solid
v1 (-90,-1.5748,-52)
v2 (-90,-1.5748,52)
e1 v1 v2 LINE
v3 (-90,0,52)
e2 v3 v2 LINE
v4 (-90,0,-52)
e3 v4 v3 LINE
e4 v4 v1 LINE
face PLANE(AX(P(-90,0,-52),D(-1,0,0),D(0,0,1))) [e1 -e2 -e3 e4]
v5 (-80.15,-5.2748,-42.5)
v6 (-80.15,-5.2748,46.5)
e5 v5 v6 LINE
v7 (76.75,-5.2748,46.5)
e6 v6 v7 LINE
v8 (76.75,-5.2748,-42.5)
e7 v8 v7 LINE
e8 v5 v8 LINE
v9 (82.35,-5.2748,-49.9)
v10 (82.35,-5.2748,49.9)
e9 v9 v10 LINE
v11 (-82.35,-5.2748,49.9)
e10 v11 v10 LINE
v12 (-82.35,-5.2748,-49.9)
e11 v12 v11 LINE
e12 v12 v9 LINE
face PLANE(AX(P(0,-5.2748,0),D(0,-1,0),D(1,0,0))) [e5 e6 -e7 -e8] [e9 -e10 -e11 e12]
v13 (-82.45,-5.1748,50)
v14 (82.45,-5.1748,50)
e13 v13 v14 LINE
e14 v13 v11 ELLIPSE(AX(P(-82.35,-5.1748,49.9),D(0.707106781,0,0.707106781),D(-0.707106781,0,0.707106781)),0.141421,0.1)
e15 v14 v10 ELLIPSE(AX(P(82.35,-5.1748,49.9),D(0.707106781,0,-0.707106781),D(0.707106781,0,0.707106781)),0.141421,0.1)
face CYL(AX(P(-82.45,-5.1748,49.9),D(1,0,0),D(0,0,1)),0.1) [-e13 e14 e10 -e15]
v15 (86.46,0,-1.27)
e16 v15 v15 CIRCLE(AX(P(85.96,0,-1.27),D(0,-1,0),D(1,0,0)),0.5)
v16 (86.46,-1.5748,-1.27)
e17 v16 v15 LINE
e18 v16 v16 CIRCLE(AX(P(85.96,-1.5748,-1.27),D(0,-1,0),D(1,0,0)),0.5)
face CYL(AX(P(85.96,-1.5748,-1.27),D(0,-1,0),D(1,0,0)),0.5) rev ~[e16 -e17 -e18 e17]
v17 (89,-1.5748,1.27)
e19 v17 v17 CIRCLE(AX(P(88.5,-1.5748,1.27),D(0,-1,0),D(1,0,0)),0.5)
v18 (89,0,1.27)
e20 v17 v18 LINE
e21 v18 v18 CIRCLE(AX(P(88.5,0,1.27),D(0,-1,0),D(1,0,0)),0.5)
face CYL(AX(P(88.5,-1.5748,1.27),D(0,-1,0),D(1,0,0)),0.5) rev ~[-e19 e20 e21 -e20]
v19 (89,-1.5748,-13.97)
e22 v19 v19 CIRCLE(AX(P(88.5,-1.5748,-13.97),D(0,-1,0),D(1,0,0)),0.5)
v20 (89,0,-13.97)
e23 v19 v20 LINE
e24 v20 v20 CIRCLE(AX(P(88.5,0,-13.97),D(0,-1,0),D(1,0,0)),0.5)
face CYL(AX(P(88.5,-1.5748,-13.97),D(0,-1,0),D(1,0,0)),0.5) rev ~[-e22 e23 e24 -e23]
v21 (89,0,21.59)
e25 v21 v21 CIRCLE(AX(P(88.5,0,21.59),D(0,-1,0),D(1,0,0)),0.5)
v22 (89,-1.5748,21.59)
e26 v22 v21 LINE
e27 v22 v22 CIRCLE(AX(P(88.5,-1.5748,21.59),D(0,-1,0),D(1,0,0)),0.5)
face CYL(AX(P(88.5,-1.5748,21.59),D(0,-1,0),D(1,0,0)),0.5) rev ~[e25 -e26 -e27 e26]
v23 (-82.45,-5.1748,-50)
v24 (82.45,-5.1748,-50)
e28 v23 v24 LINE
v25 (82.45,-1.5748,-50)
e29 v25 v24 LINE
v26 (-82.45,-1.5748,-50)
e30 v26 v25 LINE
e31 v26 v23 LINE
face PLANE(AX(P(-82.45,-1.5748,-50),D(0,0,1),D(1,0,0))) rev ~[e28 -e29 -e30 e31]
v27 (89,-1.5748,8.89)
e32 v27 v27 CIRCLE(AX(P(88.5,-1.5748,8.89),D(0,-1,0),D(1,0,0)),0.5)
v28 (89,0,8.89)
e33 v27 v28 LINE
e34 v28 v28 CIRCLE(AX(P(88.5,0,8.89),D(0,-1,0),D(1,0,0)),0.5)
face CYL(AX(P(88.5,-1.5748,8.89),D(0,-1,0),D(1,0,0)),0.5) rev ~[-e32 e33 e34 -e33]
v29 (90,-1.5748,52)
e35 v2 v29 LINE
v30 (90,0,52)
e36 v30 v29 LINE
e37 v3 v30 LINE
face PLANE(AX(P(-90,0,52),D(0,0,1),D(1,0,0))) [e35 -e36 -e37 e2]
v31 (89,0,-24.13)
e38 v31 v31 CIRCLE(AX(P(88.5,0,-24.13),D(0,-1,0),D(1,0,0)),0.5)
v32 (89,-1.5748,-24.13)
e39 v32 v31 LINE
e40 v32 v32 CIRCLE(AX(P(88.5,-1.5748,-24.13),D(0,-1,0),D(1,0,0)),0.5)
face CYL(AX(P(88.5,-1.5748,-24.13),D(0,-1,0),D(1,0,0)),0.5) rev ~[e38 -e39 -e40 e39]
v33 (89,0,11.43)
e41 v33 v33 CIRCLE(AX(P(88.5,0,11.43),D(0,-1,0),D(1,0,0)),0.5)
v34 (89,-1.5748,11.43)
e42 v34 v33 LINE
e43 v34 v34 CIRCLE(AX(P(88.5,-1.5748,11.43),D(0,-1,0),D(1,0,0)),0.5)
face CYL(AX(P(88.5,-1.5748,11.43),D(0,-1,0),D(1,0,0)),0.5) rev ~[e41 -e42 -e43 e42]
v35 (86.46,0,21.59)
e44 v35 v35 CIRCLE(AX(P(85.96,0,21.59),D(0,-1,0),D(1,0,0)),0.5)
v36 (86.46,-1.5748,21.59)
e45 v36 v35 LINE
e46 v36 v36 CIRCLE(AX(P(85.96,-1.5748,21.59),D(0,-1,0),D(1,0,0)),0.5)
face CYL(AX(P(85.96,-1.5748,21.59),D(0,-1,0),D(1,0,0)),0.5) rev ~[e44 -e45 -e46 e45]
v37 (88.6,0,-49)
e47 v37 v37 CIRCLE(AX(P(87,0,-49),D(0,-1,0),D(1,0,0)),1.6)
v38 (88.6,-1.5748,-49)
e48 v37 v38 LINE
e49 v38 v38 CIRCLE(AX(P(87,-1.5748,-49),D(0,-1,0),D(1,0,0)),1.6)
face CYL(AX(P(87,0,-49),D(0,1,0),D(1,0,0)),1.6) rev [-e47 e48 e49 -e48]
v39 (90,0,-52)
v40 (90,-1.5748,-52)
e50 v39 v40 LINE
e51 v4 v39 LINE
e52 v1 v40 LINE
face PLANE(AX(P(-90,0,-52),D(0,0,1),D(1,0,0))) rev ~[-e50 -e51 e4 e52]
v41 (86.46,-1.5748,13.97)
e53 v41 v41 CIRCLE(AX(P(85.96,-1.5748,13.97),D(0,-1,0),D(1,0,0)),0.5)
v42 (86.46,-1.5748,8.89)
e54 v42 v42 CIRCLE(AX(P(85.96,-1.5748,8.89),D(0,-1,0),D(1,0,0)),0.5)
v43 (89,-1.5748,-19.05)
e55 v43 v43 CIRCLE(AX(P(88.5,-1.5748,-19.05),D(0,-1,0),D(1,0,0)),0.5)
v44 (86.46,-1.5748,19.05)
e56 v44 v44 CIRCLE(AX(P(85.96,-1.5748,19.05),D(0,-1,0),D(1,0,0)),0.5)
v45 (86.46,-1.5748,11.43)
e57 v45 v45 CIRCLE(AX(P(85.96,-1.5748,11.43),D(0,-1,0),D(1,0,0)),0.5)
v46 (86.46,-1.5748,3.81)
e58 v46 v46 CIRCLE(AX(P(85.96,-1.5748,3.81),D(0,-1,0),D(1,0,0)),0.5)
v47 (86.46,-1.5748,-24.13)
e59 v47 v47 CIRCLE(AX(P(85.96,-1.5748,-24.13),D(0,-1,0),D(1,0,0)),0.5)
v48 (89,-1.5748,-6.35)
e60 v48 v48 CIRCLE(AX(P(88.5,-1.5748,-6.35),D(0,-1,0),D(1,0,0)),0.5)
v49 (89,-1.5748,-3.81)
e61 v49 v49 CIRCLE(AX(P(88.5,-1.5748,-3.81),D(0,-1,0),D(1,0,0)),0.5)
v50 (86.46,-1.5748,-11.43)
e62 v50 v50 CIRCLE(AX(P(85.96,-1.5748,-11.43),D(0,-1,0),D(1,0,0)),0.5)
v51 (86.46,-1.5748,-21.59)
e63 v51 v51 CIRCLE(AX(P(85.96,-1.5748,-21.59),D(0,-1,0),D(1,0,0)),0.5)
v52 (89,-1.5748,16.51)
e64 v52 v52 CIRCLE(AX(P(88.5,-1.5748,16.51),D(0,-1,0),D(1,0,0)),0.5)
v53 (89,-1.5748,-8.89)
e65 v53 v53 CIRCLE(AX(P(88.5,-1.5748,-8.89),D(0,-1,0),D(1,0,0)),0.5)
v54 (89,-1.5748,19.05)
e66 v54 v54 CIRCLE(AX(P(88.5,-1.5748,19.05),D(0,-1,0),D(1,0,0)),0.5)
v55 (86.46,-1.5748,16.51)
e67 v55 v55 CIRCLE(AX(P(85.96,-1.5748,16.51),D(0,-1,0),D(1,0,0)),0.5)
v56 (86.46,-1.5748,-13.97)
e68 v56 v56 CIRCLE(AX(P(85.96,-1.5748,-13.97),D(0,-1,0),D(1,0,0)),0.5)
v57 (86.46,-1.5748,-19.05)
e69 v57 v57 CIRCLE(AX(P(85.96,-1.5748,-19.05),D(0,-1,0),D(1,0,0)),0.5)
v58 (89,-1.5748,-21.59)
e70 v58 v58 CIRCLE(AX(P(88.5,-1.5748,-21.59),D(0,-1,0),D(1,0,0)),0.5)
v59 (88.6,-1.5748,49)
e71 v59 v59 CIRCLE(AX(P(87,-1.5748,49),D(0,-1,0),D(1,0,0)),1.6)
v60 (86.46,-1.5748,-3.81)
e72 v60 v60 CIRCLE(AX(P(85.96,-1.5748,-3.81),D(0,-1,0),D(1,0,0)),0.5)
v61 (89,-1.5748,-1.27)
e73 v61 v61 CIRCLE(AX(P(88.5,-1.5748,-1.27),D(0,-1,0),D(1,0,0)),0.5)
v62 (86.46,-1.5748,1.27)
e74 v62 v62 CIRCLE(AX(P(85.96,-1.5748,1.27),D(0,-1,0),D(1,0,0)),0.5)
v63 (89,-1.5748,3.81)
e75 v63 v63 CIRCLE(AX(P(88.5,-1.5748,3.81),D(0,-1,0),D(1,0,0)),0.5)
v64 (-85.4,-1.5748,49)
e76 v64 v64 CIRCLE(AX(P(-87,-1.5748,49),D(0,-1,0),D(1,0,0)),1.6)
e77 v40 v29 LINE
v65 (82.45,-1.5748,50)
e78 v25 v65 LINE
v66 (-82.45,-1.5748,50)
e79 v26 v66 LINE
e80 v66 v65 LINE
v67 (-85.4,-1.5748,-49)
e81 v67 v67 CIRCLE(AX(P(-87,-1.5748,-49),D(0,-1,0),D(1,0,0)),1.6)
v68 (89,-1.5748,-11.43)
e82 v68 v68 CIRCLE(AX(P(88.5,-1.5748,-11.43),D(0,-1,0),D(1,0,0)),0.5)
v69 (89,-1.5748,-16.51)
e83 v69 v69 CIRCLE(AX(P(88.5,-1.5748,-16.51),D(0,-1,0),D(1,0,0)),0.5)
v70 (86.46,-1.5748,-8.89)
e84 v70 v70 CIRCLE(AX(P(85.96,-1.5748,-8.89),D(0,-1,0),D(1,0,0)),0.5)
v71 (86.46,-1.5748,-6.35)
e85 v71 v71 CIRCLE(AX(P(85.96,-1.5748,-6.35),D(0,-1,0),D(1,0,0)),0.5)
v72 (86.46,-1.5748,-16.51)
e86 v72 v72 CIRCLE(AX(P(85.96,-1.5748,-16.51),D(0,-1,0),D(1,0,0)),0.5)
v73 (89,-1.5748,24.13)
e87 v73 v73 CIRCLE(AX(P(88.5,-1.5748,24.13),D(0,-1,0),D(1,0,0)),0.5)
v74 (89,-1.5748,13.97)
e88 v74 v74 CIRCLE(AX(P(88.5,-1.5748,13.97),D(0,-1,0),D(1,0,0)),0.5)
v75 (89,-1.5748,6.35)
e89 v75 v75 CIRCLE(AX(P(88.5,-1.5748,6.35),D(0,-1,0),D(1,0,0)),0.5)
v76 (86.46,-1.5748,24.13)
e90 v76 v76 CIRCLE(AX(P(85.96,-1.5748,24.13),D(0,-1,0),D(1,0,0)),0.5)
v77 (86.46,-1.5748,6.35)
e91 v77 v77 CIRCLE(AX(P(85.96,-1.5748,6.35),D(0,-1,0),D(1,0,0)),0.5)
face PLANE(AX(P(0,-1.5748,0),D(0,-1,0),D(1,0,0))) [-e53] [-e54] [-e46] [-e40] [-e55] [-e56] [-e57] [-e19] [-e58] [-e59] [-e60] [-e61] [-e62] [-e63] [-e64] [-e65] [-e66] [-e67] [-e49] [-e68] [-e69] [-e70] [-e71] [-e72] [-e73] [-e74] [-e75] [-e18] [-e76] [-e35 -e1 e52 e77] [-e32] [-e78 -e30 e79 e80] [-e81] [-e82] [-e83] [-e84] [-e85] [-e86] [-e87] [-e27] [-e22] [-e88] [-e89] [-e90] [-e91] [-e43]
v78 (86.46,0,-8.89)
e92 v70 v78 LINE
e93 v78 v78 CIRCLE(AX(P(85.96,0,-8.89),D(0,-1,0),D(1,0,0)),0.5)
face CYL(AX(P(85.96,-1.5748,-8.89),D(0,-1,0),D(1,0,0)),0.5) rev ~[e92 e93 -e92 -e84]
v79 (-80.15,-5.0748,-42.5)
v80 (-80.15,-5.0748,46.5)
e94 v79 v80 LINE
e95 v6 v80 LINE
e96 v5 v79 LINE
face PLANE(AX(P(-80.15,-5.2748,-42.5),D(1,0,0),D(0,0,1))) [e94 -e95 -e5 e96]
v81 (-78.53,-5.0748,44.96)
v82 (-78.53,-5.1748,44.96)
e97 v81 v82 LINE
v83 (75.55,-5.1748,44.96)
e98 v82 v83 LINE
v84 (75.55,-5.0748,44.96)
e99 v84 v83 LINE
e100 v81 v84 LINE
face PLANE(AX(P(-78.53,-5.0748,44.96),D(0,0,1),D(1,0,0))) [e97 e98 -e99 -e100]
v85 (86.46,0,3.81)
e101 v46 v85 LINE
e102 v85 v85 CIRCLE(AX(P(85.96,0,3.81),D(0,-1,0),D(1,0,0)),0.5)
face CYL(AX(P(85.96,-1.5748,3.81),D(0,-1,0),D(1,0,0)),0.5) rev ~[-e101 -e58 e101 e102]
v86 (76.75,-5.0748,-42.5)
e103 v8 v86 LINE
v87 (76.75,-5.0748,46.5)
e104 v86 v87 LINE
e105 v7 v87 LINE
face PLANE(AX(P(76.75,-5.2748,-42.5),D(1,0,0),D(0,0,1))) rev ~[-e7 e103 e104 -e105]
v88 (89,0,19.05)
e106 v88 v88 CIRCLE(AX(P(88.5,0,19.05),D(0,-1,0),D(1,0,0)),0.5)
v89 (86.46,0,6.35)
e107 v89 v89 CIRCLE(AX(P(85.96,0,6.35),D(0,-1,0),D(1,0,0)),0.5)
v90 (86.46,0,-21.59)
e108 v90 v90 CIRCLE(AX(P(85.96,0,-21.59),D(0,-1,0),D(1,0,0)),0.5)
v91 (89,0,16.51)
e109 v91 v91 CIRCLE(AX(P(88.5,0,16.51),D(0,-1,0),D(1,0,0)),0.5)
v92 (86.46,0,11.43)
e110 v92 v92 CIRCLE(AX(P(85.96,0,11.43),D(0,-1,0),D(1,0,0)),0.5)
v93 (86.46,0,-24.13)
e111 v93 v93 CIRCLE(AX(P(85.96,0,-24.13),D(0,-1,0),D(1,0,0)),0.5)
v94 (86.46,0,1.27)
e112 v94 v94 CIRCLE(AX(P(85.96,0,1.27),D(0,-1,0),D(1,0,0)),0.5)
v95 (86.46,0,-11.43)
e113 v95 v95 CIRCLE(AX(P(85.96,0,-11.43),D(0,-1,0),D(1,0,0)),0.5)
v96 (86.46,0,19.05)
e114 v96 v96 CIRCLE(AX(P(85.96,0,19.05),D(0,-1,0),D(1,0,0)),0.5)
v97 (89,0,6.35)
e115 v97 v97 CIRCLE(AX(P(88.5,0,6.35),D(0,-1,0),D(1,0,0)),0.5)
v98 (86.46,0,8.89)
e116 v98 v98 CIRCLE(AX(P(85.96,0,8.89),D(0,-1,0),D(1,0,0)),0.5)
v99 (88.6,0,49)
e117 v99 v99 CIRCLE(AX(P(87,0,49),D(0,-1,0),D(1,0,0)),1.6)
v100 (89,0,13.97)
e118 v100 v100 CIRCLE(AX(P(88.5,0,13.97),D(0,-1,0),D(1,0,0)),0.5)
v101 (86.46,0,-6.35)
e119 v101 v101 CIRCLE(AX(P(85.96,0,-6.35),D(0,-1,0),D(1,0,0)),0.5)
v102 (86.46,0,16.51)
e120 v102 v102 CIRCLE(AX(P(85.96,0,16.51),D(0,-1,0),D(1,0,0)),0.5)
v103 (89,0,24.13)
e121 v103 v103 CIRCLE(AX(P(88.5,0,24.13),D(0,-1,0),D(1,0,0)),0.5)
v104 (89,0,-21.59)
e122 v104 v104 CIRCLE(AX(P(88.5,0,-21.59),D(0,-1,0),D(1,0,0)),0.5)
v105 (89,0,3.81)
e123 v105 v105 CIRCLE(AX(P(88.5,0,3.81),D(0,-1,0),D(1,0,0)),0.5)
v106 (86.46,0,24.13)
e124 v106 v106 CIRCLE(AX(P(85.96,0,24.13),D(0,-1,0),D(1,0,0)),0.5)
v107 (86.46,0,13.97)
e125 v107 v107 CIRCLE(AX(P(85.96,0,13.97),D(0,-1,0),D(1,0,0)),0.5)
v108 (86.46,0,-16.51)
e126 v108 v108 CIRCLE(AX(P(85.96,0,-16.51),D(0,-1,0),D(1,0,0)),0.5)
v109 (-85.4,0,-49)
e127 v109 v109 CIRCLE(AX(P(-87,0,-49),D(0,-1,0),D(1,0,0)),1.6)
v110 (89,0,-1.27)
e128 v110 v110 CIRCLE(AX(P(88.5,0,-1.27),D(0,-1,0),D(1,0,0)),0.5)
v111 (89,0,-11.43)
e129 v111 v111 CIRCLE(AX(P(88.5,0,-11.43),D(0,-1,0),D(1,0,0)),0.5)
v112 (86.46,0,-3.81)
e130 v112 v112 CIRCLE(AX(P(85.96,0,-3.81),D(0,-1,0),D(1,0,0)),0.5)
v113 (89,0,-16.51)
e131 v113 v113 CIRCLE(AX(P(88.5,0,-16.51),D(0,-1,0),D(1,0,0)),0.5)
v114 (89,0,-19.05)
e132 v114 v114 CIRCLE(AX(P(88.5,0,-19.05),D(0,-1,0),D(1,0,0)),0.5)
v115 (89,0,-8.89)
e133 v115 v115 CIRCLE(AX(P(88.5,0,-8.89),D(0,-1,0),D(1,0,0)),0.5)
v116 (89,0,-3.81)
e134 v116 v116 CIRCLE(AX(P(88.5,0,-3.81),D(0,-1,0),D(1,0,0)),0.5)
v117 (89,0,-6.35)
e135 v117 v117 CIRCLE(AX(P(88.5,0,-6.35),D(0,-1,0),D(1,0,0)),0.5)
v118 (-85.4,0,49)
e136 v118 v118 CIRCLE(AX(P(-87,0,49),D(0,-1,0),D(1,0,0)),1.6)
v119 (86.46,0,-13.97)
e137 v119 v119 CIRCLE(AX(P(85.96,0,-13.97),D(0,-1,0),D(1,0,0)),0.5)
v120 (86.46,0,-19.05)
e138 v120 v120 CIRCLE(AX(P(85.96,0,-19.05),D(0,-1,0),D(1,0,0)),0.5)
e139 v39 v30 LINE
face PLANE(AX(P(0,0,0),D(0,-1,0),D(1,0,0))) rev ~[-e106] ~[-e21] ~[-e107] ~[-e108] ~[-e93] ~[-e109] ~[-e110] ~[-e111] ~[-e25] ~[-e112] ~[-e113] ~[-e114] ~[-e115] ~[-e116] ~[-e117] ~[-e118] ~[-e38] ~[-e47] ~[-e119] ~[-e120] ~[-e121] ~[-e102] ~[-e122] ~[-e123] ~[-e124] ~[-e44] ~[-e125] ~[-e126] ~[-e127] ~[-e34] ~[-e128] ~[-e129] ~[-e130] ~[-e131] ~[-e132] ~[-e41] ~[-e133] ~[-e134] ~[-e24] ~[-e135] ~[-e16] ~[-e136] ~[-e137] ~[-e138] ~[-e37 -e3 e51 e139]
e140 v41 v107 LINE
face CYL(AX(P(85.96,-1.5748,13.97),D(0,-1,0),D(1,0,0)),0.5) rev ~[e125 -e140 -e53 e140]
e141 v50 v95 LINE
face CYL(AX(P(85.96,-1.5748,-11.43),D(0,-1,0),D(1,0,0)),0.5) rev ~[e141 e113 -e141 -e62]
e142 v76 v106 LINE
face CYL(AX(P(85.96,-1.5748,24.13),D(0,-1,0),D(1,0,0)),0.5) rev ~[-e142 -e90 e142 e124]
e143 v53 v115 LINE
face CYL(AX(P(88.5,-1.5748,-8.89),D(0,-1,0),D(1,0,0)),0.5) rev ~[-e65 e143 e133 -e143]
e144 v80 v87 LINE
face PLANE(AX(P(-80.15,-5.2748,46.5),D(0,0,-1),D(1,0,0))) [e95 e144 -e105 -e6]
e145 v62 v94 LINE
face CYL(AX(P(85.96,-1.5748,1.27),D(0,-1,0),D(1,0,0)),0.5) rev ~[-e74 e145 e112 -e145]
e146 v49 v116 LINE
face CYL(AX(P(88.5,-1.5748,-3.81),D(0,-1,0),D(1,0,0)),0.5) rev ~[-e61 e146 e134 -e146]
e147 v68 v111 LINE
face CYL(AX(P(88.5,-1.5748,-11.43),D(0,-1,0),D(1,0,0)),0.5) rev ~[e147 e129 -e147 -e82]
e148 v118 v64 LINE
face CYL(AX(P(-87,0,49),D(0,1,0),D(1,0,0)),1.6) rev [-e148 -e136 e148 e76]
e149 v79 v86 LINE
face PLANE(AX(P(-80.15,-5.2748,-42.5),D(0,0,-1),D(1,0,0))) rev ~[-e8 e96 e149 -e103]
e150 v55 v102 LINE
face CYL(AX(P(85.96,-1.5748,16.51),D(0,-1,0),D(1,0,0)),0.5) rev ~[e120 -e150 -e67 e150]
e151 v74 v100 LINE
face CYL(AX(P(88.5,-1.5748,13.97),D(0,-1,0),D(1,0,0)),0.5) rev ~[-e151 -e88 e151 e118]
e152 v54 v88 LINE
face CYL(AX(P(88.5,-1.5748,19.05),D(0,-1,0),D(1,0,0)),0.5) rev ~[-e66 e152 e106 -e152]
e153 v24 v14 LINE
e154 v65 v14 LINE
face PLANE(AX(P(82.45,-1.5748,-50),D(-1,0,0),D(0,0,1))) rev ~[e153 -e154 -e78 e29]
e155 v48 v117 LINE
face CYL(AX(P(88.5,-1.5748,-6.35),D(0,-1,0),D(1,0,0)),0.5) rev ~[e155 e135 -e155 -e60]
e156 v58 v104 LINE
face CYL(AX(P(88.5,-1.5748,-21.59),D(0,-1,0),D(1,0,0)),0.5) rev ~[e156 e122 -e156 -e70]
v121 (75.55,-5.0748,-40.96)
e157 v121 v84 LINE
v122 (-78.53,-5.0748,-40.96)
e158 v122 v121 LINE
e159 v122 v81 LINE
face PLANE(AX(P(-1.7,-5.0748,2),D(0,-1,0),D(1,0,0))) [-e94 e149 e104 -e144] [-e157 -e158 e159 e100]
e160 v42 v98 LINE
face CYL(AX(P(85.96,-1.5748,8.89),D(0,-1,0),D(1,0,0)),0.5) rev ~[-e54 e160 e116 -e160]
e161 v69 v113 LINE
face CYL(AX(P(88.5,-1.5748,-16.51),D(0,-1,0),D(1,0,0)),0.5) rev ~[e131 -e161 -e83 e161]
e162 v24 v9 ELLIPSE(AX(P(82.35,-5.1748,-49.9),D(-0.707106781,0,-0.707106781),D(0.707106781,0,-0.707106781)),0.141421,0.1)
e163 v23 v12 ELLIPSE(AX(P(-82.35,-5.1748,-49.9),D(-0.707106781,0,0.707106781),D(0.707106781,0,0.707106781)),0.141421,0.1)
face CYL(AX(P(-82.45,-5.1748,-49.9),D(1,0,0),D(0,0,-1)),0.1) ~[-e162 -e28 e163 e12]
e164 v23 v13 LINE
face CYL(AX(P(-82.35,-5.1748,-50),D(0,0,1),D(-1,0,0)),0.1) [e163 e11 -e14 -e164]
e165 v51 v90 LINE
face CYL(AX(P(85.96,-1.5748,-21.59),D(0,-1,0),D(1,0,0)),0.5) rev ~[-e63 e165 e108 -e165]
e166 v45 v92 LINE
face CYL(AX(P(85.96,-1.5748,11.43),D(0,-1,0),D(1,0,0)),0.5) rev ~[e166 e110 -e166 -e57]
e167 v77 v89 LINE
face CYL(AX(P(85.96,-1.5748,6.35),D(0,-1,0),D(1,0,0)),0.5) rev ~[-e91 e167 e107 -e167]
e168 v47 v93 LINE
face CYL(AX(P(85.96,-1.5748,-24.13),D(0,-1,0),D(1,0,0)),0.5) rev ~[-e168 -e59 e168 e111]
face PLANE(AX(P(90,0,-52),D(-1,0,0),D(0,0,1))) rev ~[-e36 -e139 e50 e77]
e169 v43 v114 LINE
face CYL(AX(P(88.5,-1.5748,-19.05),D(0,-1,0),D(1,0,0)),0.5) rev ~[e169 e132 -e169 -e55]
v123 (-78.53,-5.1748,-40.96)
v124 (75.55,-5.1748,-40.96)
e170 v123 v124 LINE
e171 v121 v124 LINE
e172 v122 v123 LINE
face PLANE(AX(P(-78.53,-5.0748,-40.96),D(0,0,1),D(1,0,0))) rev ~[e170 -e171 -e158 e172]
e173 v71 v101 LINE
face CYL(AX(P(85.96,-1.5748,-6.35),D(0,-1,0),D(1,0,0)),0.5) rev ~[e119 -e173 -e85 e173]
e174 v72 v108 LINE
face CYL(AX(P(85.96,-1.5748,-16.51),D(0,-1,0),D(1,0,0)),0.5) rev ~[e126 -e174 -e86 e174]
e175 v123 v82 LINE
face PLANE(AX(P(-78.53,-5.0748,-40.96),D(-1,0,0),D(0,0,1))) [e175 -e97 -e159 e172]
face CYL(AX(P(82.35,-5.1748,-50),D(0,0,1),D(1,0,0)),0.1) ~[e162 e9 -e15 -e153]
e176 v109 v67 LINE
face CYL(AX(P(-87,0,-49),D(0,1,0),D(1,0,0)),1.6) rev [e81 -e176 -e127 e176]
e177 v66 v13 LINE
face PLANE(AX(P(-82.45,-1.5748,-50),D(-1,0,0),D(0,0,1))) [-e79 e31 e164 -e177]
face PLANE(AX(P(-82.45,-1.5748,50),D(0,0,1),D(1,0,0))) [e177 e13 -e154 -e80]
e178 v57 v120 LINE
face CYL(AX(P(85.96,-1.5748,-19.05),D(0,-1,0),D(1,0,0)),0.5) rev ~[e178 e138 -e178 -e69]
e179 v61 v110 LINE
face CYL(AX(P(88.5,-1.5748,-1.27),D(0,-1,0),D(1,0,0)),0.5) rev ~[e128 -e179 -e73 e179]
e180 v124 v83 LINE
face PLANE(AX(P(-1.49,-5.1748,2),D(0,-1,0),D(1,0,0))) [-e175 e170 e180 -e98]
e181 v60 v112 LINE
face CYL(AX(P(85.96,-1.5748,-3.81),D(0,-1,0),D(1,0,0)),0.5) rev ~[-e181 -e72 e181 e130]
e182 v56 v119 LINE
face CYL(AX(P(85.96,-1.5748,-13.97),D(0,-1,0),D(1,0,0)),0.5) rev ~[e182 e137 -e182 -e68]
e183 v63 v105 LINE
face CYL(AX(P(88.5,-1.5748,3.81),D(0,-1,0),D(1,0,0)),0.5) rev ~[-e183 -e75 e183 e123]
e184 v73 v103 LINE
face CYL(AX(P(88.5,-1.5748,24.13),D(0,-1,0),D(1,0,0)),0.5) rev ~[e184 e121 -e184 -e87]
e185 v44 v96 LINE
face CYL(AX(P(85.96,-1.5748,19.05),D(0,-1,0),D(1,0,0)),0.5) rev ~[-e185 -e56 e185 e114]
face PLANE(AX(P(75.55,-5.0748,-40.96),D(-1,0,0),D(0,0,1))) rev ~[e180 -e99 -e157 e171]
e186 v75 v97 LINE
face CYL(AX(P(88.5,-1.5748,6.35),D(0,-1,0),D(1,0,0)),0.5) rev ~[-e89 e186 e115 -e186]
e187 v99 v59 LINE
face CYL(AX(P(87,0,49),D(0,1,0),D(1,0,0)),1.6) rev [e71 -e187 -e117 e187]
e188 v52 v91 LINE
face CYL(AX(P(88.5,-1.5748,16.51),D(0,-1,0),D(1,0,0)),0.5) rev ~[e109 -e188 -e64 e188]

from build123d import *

# Parameters (mm, degrees)
F0_W      = 180
F0_H      = 104
F0_R      = 1.6
F1_DEPTH  = 1.5748
F2_W      = 164.9
F2_H      = 100
F3_DEPTH  = 3.7
F4_W      = 156.9
F4_H      = 89
F5_DEPTH  = 0.2
F6_W      = 154.08
F6_H      = 85.92
F7_DEPTH  = 0.1
F8_R      = 0.1
F9_R      = 0.5
F10_DEPTH = 1.5758


with BuildPart() as f1:
    # F0 (on Front) → F1 (new body)
    with BuildSketch(Plane.XZ):
        Rectangle(F0_W, F0_H)
        with Locations((-87, -49)):
            Circle(F0_R, mode=Mode.SUBTRACT)
        with Locations((87, -49)):
            Circle(F0_R, mode=Mode.SUBTRACT)
        with Locations((-87, 49)):
            Circle(F0_R, mode=Mode.SUBTRACT)
        with Locations((87, 49)):
            Circle(F0_R, mode=Mode.SUBTRACT)
    extrude(amount=F1_DEPTH)

    # F2 (on face) → F3 (join)
    with BuildSketch(Plane.XZ.offset(1.5748)):
        Rectangle(F2_W, F2_H)
    extrude(amount=F3_DEPTH)

    # F4 (on face) → F5 (cut)
    with BuildSketch(Plane.XZ.offset(5.2748)):
        with Locations((-1.7, 2)):
            Rectangle(F4_W, F4_H)
    extrude(amount=-F5_DEPTH, mode=Mode.SUBTRACT)

    # F6 (on face) → F7 (join)
    with BuildSketch(Plane.XZ.offset(5.0748)):
        with Locations((-1.49, 2)):
            Rectangle(F6_W, F6_H)
    extrude(amount=F7_DEPTH)

    # F8
    f8_edges = [f1.edges().sort_by_distance(p)[0] for p in [
        (-82.45, -5.2748, 0),
        (0, -5.2748, 50),
        (0, -5.2748, -50),
        (82.45, -5.2748, 0),
    ]]
    fillet(f8_edges, radius=F8_R)

    # F9 (on face) → F10 (cut, through all)
    with BuildSketch(Plane.XZ.offset(1.5748)):
        with Locations((85.96, 13.97)):
            Circle(F9_R)
        with Locations((85.96, 8.89)):
            Circle(F9_R)
        with Locations((85.96, 11.43)):
            Circle(F9_R)
        with Locations((85.96, -19.05)):
            Circle(F9_R)
        with Locations((85.96, -16.51)):
            Circle(F9_R)
        with Locations((85.96, -13.97)):
            Circle(F9_R)
        with Locations((85.96, -11.43)):
            Circle(F9_R)
        with Locations((85.96, -8.89)):
            Circle(F9_R)
        with Locations((85.96, -6.35)):
            Circle(F9_R)
        with Locations((85.96, -3.81)):
            Circle(F9_R)
        with Locations((85.96, -1.27)):
            Circle(F9_R)
        with Locations((85.96, 3.81)):
            Circle(F9_R)
        with Locations((88.5, -16.51)):
            Circle(F9_R)
        with Locations((85.96, 6.35)):
            Circle(F9_R)
        with Locations((85.96, 16.51)):
            Circle(F9_R)
        with Locations((88.5, 19.05)):
            Circle(F9_R)
        with Locations((85.96, 19.05)):
            Circle(F9_R)
        with Locations((85.96, 21.59)):
            Circle(F9_R)
        with Locations((88.5, 21.59)):
            Circle(F9_R)
        with Locations((88.5, -19.05)):
            Circle(F9_R)
        with Locations((85.96, 24.13)):
            Circle(F9_R)
        with Locations((88.5, 13.97)):
            Circle(F9_R)
        with Locations((88.5, -8.89)):
            Circle(F9_R)
        with Locations((88.5, -1.27)):
            Circle(F9_R)
        with Locations((88.5, 16.51)):
            Circle(F9_R)
        with Locations((85.96, 1.27)):
            Circle(F9_R)
        with Locations((88.5, 24.13)):
            Circle(F9_R)
        with Locations((88.5, 6.35)):
            Circle(F9_R)
        with Locations((88.5, -6.35)):
            Circle(F9_R)
        with Locations((88.5, -21.59)):
            Circle(F9_R)
        with Locations((88.5, 1.27)):
            Circle(F9_R)
        with Locations((88.5, -13.97)):
            Circle(F9_R)
        with Locations((88.5, 8.89)):
            Circle(F9_R)
        with Locations((88.5, -3.81)):
            Circle(F9_R)
        with Locations((88.5, 3.81)):
            Circle(F9_R)
        with Locations((88.5, -11.43)):
            Circle(F9_R)
        with Locations((88.5, 11.43)):
            Circle(F9_R)
        with Locations((85.96, -24.13)):
            Circle(F9_R)
        with Locations((88.5, -24.13)):
            Circle(F9_R)
        with Locations((85.96, -21.59)):
            Circle(F9_R)
    extrude(amount=-F10_DEPTH, mode=Mode.SUBTRACT)


solid = f1.part
